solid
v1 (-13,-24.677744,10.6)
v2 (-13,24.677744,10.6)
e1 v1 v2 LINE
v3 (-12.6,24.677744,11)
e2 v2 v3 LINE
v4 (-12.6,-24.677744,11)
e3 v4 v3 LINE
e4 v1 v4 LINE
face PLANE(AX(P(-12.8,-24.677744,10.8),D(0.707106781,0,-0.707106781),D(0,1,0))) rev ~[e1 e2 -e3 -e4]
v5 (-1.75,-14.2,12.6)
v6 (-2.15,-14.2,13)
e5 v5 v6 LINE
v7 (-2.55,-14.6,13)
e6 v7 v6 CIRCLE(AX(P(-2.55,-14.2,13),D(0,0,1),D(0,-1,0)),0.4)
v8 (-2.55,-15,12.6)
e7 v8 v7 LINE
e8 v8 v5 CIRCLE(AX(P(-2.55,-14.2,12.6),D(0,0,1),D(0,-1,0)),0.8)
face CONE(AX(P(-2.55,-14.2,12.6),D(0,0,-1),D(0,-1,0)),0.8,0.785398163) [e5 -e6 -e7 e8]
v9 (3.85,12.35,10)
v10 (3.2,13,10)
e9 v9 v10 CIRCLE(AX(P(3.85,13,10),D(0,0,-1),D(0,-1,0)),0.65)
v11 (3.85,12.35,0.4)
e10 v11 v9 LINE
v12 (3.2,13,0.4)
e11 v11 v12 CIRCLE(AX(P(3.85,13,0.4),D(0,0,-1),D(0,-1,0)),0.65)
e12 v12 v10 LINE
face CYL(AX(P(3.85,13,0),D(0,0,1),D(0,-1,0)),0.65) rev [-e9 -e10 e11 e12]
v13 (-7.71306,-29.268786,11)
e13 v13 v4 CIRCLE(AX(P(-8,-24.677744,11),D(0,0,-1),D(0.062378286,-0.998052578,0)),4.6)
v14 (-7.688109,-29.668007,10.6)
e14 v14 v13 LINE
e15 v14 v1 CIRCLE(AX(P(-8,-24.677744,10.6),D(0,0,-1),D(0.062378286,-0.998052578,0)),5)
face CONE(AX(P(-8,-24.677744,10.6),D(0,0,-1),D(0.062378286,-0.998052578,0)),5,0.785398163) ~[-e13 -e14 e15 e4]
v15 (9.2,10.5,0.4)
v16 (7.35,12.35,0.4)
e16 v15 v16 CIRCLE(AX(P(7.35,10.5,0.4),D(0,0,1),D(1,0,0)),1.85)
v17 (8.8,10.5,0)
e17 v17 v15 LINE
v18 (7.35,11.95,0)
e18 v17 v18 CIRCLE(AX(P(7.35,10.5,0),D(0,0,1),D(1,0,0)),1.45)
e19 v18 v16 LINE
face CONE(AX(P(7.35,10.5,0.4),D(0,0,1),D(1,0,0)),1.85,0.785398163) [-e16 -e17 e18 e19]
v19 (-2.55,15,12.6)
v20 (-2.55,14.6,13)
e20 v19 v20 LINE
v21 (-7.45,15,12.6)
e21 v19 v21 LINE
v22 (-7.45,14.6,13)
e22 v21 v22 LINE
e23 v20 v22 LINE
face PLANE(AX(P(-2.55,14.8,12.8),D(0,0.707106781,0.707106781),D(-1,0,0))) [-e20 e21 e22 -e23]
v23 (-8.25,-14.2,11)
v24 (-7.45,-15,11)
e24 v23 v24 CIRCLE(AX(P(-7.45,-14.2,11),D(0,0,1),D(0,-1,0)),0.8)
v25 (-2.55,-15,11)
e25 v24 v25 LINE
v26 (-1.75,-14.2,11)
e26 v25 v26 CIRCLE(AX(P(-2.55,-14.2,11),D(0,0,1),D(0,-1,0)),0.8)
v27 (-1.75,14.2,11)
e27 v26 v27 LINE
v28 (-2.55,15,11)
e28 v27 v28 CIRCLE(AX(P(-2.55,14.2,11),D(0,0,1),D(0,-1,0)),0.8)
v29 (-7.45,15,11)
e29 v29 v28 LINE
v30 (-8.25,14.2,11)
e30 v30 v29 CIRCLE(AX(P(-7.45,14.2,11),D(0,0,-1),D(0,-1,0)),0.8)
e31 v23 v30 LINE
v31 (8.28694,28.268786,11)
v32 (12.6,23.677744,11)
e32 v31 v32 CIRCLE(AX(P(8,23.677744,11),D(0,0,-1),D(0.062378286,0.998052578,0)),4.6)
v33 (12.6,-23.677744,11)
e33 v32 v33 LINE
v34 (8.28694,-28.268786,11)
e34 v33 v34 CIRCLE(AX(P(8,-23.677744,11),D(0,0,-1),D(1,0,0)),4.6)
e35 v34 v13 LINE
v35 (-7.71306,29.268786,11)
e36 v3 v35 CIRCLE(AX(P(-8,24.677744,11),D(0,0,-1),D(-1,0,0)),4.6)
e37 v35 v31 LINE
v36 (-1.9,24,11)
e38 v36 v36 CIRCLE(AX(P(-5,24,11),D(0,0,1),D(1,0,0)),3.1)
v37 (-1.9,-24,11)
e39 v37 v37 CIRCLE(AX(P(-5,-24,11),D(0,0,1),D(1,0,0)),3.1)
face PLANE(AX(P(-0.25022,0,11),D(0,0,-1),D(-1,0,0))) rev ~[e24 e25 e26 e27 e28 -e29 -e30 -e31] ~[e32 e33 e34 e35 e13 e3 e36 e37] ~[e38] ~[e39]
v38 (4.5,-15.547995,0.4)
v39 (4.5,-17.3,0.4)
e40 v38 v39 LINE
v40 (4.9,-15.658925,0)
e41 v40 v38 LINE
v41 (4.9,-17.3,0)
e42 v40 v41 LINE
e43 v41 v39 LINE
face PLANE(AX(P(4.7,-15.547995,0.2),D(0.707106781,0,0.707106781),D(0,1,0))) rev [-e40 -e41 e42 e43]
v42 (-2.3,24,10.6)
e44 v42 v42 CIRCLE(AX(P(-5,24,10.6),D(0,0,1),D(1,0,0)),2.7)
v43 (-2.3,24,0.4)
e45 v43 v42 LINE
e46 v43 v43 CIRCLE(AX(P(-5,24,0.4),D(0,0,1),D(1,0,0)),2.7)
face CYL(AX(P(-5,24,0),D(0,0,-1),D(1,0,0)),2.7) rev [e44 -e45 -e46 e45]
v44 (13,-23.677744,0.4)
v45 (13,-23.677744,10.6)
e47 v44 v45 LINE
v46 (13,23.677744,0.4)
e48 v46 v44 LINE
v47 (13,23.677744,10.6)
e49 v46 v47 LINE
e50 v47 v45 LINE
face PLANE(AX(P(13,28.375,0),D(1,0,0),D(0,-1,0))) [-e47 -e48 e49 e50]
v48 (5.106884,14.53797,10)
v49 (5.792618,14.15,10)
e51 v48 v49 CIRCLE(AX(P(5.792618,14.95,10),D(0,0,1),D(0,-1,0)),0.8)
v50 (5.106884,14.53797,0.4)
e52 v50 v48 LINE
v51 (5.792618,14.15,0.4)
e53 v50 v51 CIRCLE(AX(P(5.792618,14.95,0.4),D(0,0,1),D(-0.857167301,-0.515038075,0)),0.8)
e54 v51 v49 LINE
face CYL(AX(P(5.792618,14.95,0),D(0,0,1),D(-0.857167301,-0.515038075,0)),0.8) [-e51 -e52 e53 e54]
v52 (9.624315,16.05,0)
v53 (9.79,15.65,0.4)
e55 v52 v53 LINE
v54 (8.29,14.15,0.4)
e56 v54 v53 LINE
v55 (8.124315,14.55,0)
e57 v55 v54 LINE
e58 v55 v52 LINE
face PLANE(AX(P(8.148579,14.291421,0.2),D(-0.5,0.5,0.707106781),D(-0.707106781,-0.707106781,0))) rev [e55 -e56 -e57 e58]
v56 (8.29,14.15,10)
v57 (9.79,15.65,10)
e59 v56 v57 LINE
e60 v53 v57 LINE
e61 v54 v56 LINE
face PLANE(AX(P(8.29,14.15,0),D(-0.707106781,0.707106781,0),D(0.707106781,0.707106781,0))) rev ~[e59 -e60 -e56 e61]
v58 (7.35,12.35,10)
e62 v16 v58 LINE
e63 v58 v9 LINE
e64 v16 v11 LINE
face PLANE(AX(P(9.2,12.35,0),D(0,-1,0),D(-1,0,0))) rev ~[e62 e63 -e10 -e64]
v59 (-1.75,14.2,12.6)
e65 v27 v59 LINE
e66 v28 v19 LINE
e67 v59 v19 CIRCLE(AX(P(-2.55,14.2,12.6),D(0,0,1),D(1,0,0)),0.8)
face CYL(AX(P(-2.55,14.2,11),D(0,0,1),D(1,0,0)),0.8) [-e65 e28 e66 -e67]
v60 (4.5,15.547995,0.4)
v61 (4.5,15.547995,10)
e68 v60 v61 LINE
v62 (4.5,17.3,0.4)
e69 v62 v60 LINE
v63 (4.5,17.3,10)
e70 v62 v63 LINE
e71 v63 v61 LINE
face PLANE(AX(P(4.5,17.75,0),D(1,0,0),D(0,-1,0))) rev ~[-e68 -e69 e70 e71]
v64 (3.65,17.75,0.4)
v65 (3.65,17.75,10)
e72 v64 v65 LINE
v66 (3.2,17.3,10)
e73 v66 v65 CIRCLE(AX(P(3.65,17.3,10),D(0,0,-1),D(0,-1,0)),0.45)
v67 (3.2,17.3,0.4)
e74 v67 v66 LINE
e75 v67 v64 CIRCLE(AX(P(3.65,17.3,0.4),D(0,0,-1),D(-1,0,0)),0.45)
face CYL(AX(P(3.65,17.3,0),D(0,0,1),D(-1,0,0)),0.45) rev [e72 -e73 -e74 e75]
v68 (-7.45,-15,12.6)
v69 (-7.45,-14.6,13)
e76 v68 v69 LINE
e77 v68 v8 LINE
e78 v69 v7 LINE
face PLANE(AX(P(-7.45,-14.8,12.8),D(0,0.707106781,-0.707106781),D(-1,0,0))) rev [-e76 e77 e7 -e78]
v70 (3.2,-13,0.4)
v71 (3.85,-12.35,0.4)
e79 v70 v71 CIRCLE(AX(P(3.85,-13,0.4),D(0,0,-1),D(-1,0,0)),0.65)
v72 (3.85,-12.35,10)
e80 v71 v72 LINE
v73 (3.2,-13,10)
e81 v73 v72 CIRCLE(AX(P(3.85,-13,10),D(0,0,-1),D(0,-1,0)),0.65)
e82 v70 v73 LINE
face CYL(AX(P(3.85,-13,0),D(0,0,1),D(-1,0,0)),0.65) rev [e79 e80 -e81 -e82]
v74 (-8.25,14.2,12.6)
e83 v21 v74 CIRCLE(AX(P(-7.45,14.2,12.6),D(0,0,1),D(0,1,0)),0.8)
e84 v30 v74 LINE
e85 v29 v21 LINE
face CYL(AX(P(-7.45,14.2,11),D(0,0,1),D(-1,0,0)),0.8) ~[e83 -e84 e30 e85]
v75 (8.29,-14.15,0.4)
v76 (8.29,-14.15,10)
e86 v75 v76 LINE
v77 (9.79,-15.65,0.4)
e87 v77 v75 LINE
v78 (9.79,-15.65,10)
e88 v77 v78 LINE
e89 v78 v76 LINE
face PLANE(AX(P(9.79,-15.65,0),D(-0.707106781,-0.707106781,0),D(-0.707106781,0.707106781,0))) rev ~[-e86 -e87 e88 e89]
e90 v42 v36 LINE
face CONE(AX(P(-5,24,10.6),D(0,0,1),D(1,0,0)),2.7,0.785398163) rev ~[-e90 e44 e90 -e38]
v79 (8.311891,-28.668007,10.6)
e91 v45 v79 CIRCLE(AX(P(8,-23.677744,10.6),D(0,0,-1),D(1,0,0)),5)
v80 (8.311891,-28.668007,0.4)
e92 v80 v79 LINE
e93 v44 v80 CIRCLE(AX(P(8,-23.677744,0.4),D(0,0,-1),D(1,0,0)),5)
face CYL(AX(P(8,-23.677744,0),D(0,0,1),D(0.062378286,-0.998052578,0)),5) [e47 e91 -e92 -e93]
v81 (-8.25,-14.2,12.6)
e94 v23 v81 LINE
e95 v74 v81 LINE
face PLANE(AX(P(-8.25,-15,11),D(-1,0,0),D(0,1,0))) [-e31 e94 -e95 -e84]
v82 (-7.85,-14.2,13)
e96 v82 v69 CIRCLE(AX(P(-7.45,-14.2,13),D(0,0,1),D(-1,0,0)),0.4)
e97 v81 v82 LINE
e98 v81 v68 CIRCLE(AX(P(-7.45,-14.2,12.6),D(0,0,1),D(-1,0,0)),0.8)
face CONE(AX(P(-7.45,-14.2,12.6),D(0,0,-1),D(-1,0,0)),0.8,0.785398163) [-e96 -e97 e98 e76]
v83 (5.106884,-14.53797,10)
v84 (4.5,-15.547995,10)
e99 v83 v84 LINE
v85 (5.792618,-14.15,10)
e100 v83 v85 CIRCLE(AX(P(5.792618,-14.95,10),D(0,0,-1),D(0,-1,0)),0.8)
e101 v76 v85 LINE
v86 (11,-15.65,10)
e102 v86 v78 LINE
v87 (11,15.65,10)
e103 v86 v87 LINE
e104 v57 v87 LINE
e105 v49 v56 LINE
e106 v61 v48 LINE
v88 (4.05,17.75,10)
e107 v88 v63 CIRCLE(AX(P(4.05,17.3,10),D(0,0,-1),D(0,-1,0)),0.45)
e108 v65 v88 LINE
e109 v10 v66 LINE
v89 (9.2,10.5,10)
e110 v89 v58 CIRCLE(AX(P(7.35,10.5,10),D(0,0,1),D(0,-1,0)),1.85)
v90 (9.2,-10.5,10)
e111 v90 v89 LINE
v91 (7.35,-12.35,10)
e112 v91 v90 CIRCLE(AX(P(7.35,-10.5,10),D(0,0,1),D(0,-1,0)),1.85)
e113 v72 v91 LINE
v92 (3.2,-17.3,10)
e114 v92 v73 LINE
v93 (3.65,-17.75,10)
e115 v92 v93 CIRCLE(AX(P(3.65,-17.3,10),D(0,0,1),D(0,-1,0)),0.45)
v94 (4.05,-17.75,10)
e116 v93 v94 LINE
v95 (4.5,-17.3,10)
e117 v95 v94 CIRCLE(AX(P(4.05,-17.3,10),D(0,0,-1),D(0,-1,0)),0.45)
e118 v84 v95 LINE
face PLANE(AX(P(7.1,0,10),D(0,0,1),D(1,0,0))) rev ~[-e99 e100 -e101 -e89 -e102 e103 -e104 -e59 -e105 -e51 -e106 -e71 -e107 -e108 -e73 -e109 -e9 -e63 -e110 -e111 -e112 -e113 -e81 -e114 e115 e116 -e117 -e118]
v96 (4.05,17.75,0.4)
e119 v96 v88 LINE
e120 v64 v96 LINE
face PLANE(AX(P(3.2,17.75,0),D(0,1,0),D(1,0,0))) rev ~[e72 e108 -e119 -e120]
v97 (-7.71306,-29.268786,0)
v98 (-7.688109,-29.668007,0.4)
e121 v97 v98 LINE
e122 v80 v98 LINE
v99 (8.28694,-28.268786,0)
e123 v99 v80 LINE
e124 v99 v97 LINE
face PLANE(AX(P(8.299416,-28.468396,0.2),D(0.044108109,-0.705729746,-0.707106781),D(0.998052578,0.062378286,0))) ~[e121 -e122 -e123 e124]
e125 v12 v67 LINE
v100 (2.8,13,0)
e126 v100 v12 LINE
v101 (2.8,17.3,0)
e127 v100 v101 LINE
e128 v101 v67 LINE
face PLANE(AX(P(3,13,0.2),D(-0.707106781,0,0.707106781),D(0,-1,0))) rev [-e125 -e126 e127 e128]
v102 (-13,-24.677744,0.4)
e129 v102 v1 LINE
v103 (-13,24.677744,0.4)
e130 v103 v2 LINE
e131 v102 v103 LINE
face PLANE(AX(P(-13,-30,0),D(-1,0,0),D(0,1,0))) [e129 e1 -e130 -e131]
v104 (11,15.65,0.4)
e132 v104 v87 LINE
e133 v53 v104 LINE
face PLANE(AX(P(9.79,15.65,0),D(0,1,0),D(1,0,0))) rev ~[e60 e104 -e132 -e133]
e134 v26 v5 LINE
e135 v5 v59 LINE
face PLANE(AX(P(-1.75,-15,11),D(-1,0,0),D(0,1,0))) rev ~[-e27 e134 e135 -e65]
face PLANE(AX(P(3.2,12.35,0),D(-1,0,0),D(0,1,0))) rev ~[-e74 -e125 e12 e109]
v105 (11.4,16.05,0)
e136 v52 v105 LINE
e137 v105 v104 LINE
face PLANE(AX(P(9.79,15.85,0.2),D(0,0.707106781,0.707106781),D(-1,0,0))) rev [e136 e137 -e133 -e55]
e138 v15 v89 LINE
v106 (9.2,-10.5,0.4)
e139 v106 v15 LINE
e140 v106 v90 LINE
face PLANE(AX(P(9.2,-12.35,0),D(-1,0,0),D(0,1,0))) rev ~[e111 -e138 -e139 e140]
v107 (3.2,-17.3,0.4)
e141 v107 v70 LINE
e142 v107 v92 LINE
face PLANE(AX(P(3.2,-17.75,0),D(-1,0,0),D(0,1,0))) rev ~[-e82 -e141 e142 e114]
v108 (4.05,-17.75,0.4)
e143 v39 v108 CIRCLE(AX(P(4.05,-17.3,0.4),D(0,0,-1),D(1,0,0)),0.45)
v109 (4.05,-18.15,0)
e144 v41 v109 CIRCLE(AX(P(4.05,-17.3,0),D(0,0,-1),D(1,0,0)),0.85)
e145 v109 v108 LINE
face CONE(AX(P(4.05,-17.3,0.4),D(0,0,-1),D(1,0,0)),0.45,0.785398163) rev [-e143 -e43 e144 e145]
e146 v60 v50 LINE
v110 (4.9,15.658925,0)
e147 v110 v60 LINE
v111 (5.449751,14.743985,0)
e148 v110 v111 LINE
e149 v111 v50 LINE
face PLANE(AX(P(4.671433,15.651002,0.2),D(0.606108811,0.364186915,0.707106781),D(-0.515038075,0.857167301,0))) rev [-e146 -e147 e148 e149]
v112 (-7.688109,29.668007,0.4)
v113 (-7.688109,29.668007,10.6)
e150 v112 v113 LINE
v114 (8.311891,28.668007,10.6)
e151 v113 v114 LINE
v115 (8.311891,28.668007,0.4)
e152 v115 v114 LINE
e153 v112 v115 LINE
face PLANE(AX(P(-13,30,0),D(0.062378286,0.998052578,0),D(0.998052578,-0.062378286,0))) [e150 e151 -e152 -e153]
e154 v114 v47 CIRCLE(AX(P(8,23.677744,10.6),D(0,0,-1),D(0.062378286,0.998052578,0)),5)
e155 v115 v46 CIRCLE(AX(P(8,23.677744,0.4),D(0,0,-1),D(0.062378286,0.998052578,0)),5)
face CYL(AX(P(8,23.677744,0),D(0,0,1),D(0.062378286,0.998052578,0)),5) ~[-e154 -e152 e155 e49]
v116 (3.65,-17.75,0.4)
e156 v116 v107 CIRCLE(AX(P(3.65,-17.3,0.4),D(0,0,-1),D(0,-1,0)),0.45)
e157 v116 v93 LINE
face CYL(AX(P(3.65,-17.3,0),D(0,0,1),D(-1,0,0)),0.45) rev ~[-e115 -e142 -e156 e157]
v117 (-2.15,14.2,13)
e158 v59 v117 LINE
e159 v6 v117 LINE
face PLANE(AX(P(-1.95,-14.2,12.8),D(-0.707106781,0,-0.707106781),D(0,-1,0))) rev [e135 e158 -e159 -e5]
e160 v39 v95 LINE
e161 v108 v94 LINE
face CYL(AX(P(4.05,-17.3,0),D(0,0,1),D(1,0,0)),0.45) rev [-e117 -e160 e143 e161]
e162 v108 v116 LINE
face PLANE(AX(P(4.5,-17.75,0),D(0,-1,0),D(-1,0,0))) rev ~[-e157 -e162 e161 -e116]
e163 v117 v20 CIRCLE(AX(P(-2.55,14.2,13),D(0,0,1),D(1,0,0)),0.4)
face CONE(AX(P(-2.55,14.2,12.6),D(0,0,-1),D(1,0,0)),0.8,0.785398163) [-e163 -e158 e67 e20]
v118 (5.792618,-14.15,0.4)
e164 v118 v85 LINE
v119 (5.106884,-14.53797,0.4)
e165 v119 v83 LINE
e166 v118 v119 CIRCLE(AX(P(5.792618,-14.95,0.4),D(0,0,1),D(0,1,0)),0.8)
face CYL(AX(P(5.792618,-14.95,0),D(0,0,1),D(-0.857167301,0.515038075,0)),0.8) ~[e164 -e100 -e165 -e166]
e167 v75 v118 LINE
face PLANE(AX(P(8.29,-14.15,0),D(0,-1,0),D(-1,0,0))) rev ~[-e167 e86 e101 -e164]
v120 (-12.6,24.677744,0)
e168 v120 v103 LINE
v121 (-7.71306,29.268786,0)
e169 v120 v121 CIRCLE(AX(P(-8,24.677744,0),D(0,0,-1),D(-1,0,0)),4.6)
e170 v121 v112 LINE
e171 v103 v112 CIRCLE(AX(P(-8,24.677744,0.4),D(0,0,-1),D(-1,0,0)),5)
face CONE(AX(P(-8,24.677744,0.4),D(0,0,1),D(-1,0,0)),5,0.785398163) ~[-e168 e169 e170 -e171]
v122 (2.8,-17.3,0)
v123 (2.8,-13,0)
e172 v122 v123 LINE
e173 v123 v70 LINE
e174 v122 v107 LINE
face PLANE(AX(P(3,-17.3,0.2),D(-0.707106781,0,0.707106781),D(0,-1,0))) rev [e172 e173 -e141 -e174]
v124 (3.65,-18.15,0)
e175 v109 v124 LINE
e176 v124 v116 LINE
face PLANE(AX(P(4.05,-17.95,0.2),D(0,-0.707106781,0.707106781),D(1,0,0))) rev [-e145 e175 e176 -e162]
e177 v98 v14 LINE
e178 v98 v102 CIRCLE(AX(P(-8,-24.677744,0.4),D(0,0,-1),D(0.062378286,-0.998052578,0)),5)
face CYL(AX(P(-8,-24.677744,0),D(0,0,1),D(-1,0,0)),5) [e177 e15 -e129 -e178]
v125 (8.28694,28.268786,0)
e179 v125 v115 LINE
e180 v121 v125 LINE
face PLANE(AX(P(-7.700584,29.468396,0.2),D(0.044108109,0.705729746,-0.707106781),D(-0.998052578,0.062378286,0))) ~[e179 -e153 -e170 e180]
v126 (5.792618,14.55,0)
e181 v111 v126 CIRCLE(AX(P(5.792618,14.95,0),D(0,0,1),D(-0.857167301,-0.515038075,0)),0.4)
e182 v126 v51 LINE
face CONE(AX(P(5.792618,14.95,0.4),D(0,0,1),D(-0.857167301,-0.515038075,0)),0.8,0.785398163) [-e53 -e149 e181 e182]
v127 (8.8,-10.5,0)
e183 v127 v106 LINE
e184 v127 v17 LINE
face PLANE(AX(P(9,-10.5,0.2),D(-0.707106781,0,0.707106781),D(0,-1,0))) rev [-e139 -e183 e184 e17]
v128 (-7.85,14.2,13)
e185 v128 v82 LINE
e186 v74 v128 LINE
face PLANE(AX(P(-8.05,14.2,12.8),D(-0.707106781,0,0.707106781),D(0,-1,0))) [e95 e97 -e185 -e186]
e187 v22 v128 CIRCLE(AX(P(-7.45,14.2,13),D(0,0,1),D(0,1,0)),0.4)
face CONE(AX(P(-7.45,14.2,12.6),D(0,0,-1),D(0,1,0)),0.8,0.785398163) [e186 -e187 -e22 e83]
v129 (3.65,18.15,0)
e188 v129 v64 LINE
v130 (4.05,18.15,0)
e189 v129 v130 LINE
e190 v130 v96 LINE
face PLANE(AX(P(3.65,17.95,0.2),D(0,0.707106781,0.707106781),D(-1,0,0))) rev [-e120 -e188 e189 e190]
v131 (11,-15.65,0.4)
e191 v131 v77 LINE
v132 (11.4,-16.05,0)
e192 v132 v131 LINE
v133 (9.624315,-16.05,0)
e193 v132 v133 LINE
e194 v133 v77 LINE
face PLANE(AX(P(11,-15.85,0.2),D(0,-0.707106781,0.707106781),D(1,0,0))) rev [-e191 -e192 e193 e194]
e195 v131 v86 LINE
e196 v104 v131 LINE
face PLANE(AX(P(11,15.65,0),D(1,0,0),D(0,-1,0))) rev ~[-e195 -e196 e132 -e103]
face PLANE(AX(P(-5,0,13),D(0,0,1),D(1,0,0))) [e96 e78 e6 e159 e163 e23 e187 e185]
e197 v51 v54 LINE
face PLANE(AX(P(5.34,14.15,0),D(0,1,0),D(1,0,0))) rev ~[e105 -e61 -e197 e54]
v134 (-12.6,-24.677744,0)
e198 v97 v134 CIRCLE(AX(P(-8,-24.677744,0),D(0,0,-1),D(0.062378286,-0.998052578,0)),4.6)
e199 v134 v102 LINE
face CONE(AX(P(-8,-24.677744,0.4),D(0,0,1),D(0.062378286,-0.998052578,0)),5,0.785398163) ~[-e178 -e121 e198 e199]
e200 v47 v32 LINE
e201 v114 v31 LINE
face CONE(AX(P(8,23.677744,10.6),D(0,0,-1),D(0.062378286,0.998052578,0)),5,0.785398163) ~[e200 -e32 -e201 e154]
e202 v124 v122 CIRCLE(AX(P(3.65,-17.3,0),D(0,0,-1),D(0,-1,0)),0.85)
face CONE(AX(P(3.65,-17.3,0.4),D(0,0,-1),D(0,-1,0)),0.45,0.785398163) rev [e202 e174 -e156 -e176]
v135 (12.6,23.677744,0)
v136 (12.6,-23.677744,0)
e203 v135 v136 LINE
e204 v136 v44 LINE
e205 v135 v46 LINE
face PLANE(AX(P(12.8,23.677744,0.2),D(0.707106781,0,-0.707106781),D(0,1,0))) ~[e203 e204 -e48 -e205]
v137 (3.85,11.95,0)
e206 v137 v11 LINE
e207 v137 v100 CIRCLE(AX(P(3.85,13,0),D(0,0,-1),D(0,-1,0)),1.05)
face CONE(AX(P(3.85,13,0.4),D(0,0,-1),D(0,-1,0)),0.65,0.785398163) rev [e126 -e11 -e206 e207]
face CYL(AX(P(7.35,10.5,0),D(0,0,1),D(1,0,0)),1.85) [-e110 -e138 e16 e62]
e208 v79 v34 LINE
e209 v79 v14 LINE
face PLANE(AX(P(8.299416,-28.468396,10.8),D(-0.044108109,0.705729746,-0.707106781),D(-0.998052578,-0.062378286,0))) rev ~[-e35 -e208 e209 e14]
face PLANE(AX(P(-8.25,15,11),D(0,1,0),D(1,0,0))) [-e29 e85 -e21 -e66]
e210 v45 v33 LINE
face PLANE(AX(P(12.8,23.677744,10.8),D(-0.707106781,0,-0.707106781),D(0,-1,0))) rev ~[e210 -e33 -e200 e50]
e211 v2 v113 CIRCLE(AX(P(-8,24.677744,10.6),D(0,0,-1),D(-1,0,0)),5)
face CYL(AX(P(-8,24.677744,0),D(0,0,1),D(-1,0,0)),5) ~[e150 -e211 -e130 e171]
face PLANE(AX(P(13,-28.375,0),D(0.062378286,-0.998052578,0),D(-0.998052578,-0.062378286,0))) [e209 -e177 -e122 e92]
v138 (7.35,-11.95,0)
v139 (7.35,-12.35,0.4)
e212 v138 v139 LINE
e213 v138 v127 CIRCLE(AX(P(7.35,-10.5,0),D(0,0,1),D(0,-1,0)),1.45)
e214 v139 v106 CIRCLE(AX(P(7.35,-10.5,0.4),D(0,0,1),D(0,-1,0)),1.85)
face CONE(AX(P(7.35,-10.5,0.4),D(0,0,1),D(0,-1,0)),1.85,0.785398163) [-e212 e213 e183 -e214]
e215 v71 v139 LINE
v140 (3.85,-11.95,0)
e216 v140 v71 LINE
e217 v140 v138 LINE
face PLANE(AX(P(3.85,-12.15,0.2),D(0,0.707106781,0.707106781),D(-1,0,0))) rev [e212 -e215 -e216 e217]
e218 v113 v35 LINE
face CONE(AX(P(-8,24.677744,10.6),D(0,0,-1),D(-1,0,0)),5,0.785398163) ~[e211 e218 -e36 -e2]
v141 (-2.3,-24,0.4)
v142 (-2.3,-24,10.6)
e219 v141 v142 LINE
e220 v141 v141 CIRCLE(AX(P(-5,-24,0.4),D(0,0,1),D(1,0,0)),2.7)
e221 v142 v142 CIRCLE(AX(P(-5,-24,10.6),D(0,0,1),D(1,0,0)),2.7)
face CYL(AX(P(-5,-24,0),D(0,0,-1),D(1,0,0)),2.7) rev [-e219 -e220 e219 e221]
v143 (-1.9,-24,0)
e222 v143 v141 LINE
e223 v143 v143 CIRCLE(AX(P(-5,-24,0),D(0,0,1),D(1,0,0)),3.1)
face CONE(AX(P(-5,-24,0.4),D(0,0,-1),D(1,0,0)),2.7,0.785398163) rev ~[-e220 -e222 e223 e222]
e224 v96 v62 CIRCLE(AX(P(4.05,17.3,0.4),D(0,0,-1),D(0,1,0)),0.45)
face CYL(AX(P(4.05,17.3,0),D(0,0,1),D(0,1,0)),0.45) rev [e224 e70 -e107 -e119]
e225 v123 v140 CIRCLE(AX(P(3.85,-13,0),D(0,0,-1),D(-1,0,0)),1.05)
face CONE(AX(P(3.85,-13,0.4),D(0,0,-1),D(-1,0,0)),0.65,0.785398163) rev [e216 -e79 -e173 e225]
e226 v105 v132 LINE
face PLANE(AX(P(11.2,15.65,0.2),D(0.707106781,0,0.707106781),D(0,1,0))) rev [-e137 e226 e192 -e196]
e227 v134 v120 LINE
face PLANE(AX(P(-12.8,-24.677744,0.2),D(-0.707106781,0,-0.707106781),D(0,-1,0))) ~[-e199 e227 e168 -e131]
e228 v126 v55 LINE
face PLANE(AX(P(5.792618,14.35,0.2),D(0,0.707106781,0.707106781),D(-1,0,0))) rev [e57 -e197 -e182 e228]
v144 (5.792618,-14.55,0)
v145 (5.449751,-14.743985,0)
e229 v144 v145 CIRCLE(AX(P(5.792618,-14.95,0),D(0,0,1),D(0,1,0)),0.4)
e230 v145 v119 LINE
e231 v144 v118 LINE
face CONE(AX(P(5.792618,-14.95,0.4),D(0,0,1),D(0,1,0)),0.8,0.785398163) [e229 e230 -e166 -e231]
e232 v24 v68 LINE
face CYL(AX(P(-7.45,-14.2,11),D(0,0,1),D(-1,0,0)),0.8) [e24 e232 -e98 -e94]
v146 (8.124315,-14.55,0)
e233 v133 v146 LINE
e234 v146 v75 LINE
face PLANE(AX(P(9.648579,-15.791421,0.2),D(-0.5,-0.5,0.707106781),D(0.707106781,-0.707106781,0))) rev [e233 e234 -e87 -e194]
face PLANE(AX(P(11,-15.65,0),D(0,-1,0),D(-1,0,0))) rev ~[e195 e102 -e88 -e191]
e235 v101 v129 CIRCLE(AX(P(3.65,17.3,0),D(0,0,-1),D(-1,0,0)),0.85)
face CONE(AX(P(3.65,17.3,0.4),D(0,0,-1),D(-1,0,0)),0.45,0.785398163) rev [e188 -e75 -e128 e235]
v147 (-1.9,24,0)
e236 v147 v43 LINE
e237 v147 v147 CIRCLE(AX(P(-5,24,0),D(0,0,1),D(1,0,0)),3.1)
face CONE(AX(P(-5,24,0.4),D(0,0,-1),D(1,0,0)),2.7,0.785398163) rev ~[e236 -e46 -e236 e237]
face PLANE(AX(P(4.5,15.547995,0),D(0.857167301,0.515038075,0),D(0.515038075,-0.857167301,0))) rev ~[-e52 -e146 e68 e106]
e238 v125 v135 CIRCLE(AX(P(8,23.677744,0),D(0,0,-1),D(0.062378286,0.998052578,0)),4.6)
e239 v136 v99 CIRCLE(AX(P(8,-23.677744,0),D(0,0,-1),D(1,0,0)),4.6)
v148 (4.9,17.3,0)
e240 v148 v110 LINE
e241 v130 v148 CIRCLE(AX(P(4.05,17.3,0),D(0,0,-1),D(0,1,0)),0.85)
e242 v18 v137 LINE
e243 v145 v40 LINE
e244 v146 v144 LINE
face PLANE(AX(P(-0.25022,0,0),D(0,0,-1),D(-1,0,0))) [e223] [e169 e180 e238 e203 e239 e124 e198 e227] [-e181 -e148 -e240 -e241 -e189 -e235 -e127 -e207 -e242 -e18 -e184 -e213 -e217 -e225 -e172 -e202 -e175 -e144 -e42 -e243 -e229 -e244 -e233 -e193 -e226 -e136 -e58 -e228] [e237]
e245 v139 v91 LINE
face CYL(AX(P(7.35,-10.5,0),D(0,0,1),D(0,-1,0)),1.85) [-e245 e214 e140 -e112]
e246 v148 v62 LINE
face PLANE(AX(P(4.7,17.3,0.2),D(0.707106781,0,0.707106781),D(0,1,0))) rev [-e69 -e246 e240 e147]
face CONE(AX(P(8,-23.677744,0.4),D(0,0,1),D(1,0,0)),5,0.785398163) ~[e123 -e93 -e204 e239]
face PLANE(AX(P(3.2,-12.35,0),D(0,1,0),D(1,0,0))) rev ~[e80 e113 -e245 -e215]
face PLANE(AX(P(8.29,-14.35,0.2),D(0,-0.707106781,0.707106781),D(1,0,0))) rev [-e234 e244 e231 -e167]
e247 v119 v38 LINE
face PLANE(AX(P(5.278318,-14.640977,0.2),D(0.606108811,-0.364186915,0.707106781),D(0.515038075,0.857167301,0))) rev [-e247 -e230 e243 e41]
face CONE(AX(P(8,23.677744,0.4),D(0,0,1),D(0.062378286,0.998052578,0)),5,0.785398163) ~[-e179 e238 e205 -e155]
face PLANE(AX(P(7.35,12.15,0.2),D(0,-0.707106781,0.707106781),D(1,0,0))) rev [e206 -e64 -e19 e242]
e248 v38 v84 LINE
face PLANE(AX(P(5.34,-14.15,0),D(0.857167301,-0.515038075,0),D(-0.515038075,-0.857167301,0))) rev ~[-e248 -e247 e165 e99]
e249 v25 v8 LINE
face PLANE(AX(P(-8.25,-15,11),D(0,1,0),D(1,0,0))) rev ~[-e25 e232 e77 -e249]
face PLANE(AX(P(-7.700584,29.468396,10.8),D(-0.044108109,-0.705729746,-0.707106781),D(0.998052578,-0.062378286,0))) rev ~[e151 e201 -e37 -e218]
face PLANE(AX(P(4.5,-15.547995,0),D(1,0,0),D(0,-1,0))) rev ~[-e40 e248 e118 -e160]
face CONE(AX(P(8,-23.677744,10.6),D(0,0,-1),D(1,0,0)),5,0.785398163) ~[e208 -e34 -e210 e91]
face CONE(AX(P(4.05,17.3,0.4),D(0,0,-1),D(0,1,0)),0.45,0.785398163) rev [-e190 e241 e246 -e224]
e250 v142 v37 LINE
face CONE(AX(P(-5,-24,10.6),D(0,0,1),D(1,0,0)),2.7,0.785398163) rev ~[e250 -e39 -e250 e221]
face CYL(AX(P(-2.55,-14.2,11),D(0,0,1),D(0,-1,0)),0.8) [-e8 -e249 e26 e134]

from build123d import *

# Parameters (mm, degrees)
SKETCH1_R           = 2.7
BOSS_EXTRUDE1_DEPTH = 11
SKETCH2_W           = 6.5
SKETCH2_H           = 30
BOSS_EXTRUDE2_DEPTH = 2
SKETCH3_W           = 7.8
SKETCH3_H           = 35.5
BOSS_EXTRUDE3_DEPTH = 1
FILLET1_R           = 5
FILLET2_R           = 0.45
FILLET3_R           = 0.8
FILLET4_R           = 0.65
FILLET5_R           = 1.85
CHAMFER1_SIZE       = 0.4


with BuildPart() as part:
    # Sketch1 → Boss-Extrude1 (new body)
    with BuildSketch(Plane.XY):
        Polygon((-13, -30), (-13, 30), (13, 28.375), (13, -28.375), align=None)
        with Locations((-5, -24)):
            Circle(SKETCH1_R, mode=Mode.SUBTRACT)
        with Locations((-5, 24)):
            Circle(SKETCH1_R, mode=Mode.SUBTRACT)
        Polygon((3.2, -17.75), (3.2, -12.35), (9.2, -12.35), (9.2, 12.35), (3.2, 12.35), (3.2, 17.75), (4.5, 17.75), (4.5, 15.547994765), (5.34, 14.15), (8.29, 14.15), (9.79, 15.65), (11, 15.65), (11, -15.65), (9.79, -15.65), (8.29, -14.15), (5.34, -14.15), (4.5, -15.547994765), (4.5, -17.75), align=None, mode=Mode.SUBTRACT)
    extrude(amount=BOSS_EXTRUDE1_DEPTH)

    # Sketch2 → Boss-Extrude2 (add)
    with BuildSketch(Plane.XY.offset(11)):
        with Locations((-5, 0)):
            Rectangle(SKETCH2_W, SKETCH2_H)
    extrude(amount=BOSS_EXTRUDE2_DEPTH)

    # Sketch3 → Boss-Extrude3 (add)
    with BuildSketch(Plane.XY.offset(11)):
        with Locations((7.1, 0)):
            Rectangle(SKETCH3_W, SKETCH3_H)
    extrude(amount=-BOSS_EXTRUDE3_DEPTH)

    # Fillet1
    fillet1_edges = [part.edges().sort_by_distance(p)[0] for p in [
        (-13, -30, 5.5),
        (-13, 30, 5.5),
        (13, 28.375, 5.5),
        (13, -28.375, 5.5),
    ]]
    fillet(fillet1_edges, radius=FILLET1_R)

    # Fillet2
    fillet2_edges = [part.edges().sort_by_distance(p)[0] for p in [
        (3.2, 17.75, 5),
        (4.5, 17.75, 5),
        (4.5, -17.75, 5),
        (3.2, -17.75, 5),
    ]]
    fillet(fillet2_edges, radius=FILLET2_R)

    # Fillet3
    fillet3_edges = [part.edges().sort_by_distance(p)[0] for p in [
        (5.34, 14.15, 5),
        (5.34, -14.15, 5),
        (-8.25, 15, 12),
        (-8.25, -15, 12),
        (-1.75, -15, 12),
        (-1.75, 15, 12),
    ]]
    fillet(fillet3_edges, radius=FILLET3_R)

    # Fillet4
    fillet4_edges = [part.edges().sort_by_distance(p)[0] for p in [
        (3.2, 12.35, 5),
        (3.2, -12.35, 5),
    ]]
    fillet(fillet4_edges, radius=FILLET4_R)

    # Fillet5
    fillet5_edges = [part.edges().sort_by_distance(p)[0] for p in [
        (9.2, -12.35, 5),
        (9.2, 12.35, 5),
    ]]
    fillet(fillet5_edges, radius=FILLET5_R)

    # Chamfer1
    chamfer1_edges = [part.edges().sort_by_distance(p)[0] for p in [
        (-7.7, -24, 0),
        (-7.7, -24, 11),
        (0.311891431, -29.168006786, 0),
        (0.311891431, -29.168006786, 11),
        (-13, 0, 0),
        (0.311891431, 29.168006786, 0),
        (13, 0, 0),
        (-11.423488195, 28.321880084, 0),
        (11.644136191, 27.101232088, 0),
        (11.644136191, -27.101232088, 0),
        (-11.423488195, -28.321880084, 0),
        (-13, 0, 11),
        (13, 0, 11),
        (0.311891431, 29.168006786, 11),
        (-11.423488195, 28.321880084, 11),
        (-7.7, 24, 0),
        (11.644136191, 27.101232088, 11),
        (11.644136191, -27.101232088, 11),
        (-11.423488195, -28.321880084, 11),
        (-7.7, 24, 11),
        (3.85, 17.75, 0),
        (3.2, 15.15, 0),
        (3.85, -17.75, 0),
        (4.5, -16.423997383, 0),
        (4.368198052, 17.618198052, 0),
        (3.331801948, 17.618198052, 0),
        (4.368198052, -17.618198052, 0),
        (3.331801948, -17.618198052, 0),
        (-5, -15, 13),
        (-8.25, 0, 13),
        (-1.75, 0, 13),
        (-5, 15, 13),
        (-1.984314575, -14.765685425, 13),
        (-8.015685425, 14.765685425, 13),
        (-1.984314575, 14.765685425, 13),
        (-8.015685425, -14.765685425, 13),
        (7.041309111, -14.15, 0),
        (4.803442191, 15.042982153, 0),
        (5.398679374, -14.253715443, 0),
        (5.398679374, 14.253715443, 0),
        (5.6, 12.35, 0),
        (3.2, -15.15, 0),
        (3.390380592, 12.540380592, 0),
        (3.390380592, -12.540380592, 0),
        (9.2, 0, 0),
        (5.6, -12.35, 0),
        (8.658147545, -11.808147545, 0),
        (8.658147545, 11.808147545, 0),
        (4.803442191, -15.042982153, 0),
        (9.04, -14.9, 0),
        (10.395, -15.65, 0),
        (11, 0, 0),
        (10.395, 15.65, 0),
        (9.04, 14.9, 0),
        (7.041309111, 14.15, 0),
        (4.5, 16.423997383, 0),
    ]]
    chamfer(chamfer1_edges, length=CHAMFER1_SIZE)


solid = part.part
